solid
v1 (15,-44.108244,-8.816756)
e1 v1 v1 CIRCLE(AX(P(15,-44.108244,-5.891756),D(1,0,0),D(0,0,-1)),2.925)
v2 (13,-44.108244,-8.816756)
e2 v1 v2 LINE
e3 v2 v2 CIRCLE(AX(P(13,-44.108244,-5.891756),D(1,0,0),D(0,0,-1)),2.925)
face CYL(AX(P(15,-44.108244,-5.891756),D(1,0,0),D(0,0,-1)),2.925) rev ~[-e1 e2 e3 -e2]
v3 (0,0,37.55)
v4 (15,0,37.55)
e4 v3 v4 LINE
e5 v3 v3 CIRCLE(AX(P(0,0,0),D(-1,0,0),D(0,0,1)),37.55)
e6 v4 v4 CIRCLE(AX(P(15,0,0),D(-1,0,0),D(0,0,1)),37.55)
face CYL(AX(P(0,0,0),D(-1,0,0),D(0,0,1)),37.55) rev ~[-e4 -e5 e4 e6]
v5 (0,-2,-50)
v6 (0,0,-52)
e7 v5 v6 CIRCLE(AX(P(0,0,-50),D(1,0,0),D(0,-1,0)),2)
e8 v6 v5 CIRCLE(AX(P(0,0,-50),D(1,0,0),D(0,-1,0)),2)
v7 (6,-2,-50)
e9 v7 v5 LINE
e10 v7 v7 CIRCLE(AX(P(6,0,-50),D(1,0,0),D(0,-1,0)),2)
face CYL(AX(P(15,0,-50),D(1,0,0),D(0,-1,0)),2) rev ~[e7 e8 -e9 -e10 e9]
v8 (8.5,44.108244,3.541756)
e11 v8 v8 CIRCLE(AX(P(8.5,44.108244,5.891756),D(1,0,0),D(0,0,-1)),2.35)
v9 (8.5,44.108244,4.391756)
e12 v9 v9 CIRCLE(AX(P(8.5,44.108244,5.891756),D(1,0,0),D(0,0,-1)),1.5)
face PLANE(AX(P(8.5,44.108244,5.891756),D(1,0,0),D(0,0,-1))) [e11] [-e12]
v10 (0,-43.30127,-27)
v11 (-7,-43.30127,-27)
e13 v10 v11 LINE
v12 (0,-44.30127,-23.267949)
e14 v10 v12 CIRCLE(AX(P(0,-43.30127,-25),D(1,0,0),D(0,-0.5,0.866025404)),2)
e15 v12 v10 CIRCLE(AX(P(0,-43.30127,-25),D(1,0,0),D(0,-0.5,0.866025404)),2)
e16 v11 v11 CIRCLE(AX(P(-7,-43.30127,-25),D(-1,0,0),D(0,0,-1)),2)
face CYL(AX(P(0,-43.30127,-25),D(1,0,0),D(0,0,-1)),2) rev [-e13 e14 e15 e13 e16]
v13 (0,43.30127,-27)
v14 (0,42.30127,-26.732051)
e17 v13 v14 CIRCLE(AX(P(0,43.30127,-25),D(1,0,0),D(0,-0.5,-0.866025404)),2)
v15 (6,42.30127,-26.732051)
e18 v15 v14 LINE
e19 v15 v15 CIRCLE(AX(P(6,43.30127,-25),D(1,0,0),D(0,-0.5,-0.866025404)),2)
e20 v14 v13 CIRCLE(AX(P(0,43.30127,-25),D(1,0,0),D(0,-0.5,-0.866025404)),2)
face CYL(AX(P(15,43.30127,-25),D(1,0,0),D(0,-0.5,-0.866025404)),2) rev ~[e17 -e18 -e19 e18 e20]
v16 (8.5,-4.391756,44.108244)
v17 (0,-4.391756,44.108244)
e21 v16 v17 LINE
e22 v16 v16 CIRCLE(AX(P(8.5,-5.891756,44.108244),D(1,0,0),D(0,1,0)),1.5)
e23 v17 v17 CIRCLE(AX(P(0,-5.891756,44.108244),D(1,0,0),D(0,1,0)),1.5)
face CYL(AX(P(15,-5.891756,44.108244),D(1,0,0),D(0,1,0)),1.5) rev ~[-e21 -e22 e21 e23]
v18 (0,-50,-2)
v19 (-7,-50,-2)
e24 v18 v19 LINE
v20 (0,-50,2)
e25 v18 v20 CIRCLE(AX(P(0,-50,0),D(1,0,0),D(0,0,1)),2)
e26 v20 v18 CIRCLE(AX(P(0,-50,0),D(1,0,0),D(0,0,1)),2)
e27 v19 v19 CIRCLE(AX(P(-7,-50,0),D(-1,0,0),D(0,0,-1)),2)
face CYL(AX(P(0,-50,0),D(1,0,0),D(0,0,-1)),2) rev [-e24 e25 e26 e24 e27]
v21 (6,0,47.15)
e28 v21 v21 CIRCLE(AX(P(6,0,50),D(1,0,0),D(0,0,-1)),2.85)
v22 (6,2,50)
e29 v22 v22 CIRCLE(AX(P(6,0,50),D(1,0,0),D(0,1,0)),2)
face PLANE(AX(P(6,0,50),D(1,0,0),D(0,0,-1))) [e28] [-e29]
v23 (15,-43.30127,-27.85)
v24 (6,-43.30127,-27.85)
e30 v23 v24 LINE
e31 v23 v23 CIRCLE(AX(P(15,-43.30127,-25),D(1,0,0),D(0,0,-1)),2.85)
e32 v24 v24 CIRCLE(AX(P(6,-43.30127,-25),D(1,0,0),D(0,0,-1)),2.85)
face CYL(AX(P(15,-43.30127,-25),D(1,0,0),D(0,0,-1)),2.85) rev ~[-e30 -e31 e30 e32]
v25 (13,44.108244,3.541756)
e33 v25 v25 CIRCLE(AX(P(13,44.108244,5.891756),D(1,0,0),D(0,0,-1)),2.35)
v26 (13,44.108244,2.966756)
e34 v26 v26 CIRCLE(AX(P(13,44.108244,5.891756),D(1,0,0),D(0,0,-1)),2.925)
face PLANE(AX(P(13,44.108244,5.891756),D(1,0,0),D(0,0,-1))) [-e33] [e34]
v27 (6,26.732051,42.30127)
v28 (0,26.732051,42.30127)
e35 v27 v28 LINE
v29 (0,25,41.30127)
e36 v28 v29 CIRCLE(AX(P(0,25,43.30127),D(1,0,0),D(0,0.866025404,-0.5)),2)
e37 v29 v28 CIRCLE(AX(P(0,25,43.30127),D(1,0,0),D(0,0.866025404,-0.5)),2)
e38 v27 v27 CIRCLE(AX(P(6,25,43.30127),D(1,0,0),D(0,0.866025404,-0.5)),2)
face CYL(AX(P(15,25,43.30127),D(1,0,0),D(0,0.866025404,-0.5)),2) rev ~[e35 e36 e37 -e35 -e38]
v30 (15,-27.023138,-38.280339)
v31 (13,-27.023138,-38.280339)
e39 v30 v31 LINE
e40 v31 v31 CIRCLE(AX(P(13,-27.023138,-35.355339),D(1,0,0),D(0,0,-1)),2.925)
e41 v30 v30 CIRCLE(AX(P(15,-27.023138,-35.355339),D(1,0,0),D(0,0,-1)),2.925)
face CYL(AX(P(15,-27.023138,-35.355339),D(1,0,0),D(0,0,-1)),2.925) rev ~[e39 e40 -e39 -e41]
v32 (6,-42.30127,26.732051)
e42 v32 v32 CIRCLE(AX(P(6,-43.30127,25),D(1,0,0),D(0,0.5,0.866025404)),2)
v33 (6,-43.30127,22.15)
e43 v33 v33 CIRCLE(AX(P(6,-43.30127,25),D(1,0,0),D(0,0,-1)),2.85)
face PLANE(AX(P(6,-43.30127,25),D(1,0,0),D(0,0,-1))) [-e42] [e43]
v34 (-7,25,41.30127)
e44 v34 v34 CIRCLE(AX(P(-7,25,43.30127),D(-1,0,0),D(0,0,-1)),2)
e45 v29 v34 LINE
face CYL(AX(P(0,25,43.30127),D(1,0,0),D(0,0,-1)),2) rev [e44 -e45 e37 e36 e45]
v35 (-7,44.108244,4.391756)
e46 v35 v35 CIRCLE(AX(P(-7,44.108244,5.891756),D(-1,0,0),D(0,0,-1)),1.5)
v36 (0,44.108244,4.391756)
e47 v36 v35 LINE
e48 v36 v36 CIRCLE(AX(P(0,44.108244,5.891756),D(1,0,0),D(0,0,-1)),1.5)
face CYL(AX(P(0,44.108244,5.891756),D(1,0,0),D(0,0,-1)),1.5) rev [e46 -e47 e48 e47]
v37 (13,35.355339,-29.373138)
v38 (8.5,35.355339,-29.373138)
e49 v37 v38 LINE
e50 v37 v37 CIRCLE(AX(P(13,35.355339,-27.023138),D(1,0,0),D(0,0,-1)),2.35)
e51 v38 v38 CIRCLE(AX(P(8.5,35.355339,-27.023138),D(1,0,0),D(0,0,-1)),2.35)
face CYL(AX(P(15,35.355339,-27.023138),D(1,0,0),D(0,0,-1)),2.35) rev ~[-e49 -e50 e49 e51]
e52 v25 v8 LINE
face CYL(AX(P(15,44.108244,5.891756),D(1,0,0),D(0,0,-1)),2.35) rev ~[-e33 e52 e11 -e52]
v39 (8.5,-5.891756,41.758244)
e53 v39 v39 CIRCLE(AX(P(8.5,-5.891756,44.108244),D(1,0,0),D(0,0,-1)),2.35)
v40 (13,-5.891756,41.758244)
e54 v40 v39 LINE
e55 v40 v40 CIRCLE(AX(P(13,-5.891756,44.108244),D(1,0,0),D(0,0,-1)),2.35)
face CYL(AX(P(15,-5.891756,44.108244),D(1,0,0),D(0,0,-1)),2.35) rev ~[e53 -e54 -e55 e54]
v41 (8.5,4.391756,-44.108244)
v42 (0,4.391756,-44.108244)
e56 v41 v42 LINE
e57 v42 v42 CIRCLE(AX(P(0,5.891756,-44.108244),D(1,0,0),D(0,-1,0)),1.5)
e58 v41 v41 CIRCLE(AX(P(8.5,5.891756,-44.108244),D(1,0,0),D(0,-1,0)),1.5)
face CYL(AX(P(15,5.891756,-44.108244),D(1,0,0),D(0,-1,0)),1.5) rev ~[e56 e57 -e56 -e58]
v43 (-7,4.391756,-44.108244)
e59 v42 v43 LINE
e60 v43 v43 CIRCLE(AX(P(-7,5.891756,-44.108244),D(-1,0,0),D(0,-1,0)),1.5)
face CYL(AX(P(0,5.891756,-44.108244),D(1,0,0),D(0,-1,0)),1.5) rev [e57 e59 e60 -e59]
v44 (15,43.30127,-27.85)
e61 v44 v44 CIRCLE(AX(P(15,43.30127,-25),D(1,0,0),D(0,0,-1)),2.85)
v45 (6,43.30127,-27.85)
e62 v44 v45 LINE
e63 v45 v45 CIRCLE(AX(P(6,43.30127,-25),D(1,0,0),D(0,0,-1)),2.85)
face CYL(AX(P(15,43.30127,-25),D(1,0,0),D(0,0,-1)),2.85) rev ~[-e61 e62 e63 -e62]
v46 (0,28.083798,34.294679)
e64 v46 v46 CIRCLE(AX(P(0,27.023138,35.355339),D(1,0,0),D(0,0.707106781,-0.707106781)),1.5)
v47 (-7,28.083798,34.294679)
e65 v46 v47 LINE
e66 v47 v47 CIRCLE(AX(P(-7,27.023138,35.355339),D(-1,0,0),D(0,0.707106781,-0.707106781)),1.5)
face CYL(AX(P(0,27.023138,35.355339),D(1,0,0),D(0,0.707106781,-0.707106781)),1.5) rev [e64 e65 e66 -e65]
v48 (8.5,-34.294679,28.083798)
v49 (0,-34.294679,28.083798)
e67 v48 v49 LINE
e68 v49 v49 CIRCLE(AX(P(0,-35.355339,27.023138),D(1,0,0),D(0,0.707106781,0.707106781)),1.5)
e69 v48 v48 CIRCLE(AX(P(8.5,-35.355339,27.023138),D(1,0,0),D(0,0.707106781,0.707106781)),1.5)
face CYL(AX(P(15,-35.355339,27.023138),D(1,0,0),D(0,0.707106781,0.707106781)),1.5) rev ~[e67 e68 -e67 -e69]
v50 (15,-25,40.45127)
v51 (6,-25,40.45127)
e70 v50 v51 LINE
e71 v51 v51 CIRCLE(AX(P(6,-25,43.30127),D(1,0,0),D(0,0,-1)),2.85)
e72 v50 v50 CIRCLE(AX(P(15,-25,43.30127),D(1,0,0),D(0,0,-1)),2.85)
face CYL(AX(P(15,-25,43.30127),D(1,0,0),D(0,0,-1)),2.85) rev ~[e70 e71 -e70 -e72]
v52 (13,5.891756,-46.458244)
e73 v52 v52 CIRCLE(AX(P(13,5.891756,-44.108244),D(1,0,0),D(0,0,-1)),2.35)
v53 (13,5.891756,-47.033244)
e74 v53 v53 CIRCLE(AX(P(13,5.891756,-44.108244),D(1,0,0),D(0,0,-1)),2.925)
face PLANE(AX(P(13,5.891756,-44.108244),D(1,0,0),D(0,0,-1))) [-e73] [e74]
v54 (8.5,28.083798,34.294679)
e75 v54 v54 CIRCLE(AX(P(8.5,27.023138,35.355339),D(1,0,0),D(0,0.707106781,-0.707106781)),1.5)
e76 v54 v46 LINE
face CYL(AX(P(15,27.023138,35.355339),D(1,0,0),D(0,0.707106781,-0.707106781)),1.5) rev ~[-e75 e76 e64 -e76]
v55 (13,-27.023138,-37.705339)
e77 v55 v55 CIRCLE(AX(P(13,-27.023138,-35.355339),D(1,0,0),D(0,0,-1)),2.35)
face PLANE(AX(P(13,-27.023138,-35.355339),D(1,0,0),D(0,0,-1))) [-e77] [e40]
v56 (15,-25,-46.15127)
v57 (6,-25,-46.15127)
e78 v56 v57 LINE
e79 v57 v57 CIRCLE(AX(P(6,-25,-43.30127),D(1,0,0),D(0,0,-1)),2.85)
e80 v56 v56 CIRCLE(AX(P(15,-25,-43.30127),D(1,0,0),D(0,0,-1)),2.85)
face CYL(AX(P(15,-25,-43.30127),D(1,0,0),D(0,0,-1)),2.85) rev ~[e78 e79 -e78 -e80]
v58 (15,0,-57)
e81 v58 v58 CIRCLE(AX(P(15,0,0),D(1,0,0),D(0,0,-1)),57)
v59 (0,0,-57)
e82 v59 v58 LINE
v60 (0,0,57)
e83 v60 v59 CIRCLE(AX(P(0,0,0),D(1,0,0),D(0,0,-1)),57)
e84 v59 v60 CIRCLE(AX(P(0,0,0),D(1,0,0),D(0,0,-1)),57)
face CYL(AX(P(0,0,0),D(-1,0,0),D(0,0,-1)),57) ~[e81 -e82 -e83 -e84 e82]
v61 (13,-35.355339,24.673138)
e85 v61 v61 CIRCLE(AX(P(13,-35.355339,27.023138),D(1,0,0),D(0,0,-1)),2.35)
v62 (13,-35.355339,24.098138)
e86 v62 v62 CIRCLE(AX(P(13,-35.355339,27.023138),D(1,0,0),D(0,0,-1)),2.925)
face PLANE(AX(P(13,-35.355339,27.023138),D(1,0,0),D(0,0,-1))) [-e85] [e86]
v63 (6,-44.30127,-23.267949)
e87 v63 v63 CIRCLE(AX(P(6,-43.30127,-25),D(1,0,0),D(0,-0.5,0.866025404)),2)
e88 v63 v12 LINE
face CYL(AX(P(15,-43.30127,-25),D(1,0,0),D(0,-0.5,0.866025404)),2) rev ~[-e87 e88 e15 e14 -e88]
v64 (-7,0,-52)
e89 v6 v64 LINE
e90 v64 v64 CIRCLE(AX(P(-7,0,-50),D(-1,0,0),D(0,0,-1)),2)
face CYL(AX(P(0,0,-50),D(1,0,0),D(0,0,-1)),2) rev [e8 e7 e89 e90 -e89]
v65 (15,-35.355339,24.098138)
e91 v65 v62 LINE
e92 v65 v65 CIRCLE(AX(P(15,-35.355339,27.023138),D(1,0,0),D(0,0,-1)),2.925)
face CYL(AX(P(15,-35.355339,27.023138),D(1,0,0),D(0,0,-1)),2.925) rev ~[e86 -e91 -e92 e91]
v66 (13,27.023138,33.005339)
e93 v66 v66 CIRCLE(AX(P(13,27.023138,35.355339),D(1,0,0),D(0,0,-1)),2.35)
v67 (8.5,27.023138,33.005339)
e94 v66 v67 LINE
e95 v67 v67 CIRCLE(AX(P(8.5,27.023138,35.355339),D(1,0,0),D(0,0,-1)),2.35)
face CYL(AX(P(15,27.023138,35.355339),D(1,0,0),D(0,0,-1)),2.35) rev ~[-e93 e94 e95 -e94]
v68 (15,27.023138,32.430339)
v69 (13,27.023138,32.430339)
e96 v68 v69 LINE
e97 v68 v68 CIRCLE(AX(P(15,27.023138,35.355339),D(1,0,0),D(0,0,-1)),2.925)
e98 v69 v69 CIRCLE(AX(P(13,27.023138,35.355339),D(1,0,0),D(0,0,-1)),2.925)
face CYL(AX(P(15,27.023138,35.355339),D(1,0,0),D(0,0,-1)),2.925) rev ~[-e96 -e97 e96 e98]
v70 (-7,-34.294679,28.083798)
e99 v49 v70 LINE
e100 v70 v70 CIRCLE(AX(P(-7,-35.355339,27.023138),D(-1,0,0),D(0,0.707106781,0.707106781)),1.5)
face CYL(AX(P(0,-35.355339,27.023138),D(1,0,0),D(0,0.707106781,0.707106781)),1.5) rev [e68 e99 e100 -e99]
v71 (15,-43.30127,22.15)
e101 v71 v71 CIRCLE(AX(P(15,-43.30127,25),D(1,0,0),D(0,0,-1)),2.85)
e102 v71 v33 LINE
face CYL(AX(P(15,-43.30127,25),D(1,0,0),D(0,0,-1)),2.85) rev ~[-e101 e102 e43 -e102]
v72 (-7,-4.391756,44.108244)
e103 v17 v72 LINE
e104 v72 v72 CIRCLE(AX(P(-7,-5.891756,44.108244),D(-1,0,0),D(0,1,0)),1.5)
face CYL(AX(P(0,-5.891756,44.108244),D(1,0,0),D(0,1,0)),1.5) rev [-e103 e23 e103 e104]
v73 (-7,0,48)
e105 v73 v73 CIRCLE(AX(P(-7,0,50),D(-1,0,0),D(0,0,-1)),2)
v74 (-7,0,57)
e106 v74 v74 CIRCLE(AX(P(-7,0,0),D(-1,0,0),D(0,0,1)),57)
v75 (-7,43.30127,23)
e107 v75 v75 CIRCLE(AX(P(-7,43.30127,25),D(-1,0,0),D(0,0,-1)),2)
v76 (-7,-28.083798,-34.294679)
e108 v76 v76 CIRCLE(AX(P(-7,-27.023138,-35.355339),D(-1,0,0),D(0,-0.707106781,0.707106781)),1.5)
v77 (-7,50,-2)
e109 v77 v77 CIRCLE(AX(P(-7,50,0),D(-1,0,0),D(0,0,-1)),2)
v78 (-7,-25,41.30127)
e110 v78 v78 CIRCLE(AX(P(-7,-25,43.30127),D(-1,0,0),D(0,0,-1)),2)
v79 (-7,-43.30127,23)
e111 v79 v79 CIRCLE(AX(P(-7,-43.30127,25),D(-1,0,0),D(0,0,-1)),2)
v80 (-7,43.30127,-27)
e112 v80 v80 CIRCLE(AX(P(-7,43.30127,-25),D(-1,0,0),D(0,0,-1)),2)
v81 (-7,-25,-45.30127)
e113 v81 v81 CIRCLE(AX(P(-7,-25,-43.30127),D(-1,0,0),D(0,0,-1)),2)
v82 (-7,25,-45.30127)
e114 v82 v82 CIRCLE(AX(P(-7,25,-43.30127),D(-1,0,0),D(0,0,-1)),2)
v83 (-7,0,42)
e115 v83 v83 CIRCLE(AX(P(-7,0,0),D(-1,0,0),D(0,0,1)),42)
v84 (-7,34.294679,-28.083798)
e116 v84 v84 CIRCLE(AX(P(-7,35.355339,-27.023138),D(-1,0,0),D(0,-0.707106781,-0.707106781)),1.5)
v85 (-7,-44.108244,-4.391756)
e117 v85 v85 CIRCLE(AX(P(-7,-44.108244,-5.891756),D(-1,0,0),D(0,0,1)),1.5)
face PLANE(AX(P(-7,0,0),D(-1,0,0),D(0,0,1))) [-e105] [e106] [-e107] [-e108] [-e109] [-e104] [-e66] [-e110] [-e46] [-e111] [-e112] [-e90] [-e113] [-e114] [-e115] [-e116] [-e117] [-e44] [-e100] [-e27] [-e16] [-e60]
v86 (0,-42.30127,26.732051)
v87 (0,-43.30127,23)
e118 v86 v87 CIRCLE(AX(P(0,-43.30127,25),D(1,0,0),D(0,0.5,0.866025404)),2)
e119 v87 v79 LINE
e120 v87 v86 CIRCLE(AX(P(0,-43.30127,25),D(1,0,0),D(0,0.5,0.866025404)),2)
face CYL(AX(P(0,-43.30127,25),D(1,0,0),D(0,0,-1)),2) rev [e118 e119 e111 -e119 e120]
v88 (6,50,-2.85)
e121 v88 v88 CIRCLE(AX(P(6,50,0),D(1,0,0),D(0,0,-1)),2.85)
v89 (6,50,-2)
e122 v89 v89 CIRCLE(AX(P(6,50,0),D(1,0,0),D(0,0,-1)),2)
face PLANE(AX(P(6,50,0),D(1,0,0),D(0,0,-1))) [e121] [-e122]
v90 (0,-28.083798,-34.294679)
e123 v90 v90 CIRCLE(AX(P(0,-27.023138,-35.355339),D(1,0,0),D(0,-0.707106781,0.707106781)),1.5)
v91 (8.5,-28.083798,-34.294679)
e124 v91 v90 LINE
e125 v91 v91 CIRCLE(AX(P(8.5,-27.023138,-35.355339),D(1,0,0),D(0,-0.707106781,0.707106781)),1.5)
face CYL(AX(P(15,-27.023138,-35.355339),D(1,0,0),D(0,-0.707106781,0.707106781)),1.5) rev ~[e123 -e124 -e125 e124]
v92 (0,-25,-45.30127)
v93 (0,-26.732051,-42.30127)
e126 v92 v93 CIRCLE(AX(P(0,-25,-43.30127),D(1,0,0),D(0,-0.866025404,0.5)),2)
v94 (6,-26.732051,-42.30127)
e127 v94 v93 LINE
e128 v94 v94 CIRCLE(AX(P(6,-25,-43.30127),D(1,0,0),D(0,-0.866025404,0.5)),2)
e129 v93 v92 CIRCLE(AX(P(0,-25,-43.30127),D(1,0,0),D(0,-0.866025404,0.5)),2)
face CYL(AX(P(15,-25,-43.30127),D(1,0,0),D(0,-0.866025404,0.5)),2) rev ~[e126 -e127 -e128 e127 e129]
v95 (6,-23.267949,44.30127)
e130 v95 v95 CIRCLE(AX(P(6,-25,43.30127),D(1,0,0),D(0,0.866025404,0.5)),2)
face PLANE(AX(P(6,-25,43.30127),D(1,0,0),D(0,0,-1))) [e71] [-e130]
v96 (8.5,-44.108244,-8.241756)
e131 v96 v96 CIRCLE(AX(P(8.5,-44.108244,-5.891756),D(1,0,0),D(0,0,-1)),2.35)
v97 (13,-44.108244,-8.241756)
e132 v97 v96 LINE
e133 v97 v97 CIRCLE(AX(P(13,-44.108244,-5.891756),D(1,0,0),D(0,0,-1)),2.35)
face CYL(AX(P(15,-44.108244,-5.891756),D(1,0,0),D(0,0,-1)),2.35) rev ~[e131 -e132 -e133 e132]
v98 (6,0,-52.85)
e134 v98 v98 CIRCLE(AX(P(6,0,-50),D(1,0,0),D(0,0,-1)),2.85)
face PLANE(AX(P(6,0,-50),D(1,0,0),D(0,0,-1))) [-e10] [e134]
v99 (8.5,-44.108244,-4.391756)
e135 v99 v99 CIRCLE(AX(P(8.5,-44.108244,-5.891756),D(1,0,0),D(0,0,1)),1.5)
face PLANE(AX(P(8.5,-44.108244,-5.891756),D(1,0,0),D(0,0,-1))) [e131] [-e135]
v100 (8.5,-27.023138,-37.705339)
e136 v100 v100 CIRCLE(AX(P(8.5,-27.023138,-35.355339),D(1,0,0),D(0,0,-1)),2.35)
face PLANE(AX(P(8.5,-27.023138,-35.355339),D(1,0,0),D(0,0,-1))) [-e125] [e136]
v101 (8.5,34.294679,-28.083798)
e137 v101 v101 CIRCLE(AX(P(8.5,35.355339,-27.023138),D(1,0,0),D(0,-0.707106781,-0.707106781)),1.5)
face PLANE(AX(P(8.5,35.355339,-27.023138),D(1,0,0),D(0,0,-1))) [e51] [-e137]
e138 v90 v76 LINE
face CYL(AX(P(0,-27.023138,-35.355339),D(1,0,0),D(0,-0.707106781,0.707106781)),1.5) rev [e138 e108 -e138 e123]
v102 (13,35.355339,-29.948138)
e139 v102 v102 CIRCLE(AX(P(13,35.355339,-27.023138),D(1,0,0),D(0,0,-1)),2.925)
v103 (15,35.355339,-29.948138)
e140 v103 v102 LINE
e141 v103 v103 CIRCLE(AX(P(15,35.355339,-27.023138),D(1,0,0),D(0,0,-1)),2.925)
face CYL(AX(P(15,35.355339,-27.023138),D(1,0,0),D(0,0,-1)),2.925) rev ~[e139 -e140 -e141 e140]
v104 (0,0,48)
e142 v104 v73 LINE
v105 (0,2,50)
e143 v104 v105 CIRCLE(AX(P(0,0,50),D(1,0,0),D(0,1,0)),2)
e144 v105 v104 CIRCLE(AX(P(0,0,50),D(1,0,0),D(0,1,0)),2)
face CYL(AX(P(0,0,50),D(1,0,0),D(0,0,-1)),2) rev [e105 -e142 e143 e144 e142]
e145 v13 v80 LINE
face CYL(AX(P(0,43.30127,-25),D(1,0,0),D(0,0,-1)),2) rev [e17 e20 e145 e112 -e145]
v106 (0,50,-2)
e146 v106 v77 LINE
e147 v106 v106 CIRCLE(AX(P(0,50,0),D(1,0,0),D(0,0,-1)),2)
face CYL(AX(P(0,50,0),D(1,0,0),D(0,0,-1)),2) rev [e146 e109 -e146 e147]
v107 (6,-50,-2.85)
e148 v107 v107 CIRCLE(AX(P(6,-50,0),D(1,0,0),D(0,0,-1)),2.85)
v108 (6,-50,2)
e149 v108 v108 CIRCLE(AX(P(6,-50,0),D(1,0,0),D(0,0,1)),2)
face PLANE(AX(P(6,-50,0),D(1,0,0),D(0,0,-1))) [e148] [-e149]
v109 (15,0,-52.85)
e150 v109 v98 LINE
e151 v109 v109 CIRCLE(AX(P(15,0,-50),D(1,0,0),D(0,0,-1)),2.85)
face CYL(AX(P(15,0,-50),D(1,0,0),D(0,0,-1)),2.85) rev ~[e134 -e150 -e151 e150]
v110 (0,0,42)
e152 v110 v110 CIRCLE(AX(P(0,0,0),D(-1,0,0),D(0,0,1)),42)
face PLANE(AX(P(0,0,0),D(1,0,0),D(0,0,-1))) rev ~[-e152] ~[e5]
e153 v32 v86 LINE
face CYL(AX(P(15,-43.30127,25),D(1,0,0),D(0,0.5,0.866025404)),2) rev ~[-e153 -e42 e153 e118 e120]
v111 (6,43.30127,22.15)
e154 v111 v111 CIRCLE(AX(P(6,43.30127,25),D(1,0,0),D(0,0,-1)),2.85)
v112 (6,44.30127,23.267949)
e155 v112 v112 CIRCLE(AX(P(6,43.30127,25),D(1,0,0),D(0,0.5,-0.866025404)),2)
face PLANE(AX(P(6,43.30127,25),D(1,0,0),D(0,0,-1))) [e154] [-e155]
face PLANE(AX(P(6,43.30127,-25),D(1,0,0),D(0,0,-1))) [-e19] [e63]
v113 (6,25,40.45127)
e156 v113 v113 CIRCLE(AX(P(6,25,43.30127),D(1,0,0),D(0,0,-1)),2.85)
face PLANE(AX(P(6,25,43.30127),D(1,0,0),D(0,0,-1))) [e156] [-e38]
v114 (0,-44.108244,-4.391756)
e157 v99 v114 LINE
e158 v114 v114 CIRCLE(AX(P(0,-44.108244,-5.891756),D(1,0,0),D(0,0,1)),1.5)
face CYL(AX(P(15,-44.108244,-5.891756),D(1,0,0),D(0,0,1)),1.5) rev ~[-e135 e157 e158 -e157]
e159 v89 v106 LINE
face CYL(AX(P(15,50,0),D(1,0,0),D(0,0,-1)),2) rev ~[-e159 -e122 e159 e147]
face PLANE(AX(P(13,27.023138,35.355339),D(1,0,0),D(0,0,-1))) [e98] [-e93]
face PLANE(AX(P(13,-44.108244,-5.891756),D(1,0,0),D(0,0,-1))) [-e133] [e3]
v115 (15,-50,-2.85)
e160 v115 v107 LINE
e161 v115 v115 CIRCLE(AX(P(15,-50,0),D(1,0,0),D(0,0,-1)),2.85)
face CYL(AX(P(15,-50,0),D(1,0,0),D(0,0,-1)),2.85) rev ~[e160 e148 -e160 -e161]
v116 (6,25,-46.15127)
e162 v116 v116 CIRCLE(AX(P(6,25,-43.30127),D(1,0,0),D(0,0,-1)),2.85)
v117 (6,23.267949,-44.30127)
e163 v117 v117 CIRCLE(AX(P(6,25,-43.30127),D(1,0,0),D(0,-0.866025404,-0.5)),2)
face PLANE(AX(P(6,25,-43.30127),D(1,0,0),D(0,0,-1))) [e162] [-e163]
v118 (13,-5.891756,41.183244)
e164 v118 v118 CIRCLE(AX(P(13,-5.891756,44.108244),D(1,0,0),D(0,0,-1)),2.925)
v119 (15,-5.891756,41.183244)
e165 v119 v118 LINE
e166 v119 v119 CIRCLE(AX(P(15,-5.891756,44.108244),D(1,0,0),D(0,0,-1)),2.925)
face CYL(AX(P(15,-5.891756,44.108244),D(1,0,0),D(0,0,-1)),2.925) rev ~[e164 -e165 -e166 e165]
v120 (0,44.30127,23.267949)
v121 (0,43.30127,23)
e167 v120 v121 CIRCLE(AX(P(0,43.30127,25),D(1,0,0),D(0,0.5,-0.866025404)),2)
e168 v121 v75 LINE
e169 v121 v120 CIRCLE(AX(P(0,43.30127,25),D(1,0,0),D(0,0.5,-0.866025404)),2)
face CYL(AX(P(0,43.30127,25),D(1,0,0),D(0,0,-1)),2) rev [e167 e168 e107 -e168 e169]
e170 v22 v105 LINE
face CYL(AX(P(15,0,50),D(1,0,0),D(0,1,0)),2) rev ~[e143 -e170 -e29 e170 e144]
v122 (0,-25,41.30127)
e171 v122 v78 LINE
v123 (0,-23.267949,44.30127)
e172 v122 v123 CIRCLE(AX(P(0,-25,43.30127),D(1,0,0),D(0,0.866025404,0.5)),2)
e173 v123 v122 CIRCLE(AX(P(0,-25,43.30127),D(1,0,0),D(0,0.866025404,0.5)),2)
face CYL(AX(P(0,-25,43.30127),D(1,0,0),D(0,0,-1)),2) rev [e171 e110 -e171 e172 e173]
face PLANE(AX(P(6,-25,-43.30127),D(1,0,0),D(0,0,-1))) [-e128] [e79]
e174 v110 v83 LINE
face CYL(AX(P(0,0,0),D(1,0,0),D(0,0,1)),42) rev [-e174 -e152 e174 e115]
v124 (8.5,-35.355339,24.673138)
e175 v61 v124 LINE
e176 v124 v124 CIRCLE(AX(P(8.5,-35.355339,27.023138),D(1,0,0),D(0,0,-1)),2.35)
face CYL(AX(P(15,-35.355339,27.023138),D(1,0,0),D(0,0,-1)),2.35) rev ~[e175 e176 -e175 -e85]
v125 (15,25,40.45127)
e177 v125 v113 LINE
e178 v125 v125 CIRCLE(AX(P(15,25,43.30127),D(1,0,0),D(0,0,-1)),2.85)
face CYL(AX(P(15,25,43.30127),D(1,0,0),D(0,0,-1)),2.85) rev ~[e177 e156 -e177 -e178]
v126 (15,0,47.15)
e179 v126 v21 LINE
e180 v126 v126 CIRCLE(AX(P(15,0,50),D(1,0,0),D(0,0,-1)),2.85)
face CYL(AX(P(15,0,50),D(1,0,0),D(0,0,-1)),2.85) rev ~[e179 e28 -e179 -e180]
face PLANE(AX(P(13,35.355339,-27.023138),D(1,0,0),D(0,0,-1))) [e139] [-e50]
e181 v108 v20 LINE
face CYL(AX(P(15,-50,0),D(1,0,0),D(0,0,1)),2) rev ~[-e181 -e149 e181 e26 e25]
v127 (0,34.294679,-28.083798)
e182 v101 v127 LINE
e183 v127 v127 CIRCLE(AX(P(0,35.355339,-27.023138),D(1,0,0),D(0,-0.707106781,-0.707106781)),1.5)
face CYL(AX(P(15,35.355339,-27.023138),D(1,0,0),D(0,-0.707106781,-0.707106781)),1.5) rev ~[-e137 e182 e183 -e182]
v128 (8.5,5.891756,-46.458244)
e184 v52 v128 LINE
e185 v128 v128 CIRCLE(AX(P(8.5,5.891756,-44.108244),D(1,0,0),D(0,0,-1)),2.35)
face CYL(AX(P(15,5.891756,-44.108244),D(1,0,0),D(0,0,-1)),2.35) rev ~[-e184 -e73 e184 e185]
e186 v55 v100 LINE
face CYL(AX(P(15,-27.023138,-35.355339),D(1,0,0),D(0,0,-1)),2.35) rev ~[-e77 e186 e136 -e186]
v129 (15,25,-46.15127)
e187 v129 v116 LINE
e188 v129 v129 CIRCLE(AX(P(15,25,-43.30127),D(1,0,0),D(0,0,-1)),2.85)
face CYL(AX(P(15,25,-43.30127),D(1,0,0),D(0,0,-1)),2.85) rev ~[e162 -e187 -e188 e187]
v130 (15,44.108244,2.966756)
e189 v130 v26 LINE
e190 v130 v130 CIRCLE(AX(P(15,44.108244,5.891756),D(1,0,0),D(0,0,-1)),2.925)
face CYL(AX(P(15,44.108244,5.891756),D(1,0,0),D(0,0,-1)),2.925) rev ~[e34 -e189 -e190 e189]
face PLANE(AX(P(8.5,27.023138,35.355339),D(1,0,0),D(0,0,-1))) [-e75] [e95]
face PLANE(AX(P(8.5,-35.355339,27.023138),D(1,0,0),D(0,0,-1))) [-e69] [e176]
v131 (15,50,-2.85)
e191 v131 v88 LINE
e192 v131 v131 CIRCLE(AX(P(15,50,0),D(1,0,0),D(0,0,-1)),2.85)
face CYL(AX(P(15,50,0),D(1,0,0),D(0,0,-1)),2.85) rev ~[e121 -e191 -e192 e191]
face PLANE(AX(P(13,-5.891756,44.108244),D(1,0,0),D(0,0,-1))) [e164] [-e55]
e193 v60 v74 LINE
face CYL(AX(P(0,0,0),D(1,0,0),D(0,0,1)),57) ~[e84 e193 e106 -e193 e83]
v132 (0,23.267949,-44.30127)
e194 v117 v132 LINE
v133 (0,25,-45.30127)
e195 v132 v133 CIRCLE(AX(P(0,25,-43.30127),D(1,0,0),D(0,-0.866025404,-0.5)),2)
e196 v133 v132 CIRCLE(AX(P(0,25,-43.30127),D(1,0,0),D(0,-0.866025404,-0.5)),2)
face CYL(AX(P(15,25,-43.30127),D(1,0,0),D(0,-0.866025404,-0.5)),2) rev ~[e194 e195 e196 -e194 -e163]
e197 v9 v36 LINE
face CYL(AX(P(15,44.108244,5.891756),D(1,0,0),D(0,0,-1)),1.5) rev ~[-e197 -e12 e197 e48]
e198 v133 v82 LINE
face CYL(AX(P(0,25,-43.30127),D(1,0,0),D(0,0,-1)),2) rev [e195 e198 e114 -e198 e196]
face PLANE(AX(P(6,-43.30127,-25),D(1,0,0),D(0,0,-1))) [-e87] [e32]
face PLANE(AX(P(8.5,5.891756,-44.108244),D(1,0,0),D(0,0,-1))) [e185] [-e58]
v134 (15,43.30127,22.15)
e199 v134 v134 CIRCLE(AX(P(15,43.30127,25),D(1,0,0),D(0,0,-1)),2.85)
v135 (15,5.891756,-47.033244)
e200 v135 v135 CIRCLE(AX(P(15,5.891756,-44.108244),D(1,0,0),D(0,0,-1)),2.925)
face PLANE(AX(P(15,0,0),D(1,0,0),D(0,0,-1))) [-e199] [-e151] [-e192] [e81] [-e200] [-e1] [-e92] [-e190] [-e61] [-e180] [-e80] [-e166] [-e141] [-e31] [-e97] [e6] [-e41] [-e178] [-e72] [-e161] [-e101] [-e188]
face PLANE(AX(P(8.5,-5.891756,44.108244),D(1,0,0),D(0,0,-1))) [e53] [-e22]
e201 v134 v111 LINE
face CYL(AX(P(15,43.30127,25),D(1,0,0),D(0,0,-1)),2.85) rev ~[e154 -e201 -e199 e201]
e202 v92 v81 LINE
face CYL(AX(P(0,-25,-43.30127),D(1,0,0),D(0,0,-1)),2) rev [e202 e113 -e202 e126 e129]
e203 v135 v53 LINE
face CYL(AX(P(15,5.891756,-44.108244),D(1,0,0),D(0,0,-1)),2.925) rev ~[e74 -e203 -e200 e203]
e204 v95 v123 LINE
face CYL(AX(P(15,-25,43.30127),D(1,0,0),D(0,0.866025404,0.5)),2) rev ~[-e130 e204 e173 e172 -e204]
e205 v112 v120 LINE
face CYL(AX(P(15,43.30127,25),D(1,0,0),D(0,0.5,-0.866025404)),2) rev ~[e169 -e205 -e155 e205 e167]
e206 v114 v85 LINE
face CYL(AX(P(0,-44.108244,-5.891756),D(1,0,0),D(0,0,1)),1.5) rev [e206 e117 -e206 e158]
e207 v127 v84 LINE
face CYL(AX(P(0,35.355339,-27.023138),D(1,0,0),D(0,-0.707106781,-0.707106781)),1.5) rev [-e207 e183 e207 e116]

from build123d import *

# Parameters (mm, degrees)
SKETCH1_R           = 57.000000046
SKETCH1_R_2         = 45.72
BOSS_EXTRUDE1_DEPTH = 15
SKETCH3_R           = 49.001810824
SKETCH3_R_2         = 37.55
BOSS_EXTRUDE3_DEPTH = 15
CUT_EXTRUDE1_REACH  = 83.994
SKETCH4_R           = 2
SKETCH6_R           = 1.5
CUT_EXTRUDE2_DEPTH  = 82.993902276
CIRPATTERN2_COUNT   = 8
CIRPATTERN1_COUNT   = 12
SKETCH10_R          = 57.000000046
SKETCH10_R_2        = 42.000000046
SKETCH10_R_3        = 1.5
SKETCH10_R_4        = 2
BOSS_EXTRUDE4_DEPTH = 7
SKETCH12_R          = 2.35
CUT_EXTRUDE3_DEPTH  = 6.5
SKETCH13_R          = 2.925
CUT_EXTRUDE4_DEPTH  = 2
SKETCH14_R          = 2.85
CUT_EXTRUDE5_DEPTH  = 9


with BuildPart() as part:
    # Sketch1 → Boss-Extrude1 (new body)
    with BuildSketch(Plane(origin=(0, 0, 0), x_dir=(0, 0, -1), z_dir=(1, 0, 0))):
        Circle(SKETCH1_R)
        Circle(SKETCH1_R_2, mode=Mode.SUBTRACT)
    extrude(amount=BOSS_EXTRUDE1_DEPTH)

    # Sketch3 → Boss-Extrude3 (add)
    with BuildSketch(Plane.ZY):
        Circle(SKETCH3_R)
        Circle(SKETCH3_R_2, mode=Mode.SUBTRACT)
    extrude(amount=-BOSS_EXTRUDE3_DEPTH)

    # Sketch4 → Cut-Extrude1 (cut, up to next)
    with BuildSketch(Plane(origin=(15, 0, 0), x_dir=(0, 0, -1), z_dir=(1, 0, 0)), mode=Mode.PRIVATE) as cut_extrude1_sk1:
        with Locations((0, 50)):
            Circle(SKETCH4_R)
    cut_extrude1_tool1 = extrude(cut_extrude1_sk1.sketch, amount=-CUT_EXTRUDE1_REACH, mode=Mode.PRIVATE) & part.part
    cut_extrude1 = cut_extrude1_tool1.solids().sort_by_distance((15, 50, 0))[0]
    add(cut_extrude1, mode=Mode.SUBTRACT)

    # Sketch6 → Cut-Extrude2 (cut, through all)
    with BuildSketch(Plane(origin=(15, 0, 0), x_dir=(0, 0, -1), z_dir=(1, 0, 0))):
        with Locations((-5.891755706, 44.108244294)):
            Circle(SKETCH6_R)
    cut_extrude2 = extrude(amount=-CUT_EXTRUDE2_DEPTH, mode=Mode.SUBTRACT)

    # CirPattern2: Cut-Extrude2 ×8 about axis
    cirpattern2_axis = Axis((0, 0, 0), (1, 0, 0))
    for i in range(1, CIRPATTERN2_COUNT):
        add(cut_extrude2.rotate(cirpattern2_axis, i * 360 / CIRPATTERN2_COUNT), mode=Mode.SUBTRACT)

    # CirPattern1: Cut-Extrude1 ×12 about axis
    cirpattern1_axis = Axis((0, 0, 0), (1, 0, 0))
    for i in range(1, CIRPATTERN1_COUNT):
        add(cut_extrude1.rotate(cirpattern1_axis, i * 360 / CIRPATTERN1_COUNT), mode=Mode.SUBTRACT)

    # Sketch10 → Boss-Extrude4 (add)
    with BuildSketch(Plane.ZY):
        Circle(SKETCH10_R)
        Circle(SKETCH10_R_2, mode=Mode.SUBTRACT)
        with Locations(Location((-27.023138234, 35.355339059, 0), (0, 0, 225))):
            Circle(SKETCH10_R_3, mode=Mode.SUBTRACT)
        with Locations(Location((5.891755706, 44.108244294, 0), (0, 0, 180))):
            Circle(SKETCH10_R_3, mode=Mode.SUBTRACT)
        with Locations(Location((35.355339059, 27.023138234, 0), (0, 0, 135))):
            Circle(SKETCH10_R_3, mode=Mode.SUBTRACT)
        with Locations(Location((44.108244294, -5.891755706, 0), (0, 0, 90))):
            Circle(SKETCH10_R_3, mode=Mode.SUBTRACT)
        with Locations(Location((27.023138234, -35.355339059, 0), (0, 0, 45))):
            Circle(SKETCH10_R_3, mode=Mode.SUBTRACT)
        with Locations(Location((-44.108244294, 5.891755706, 0), (0, 0, 270))):
            Circle(SKETCH10_R_3, mode=Mode.SUBTRACT)
        with Locations(Location((-35.355339059, -27.023138234, 0), (0, 0, 315))):
            Circle(SKETCH10_R_3, mode=Mode.SUBTRACT)
        with Locations((-5.891755706, -44.108244294)):
            Circle(SKETCH10_R_3, mode=Mode.SUBTRACT)
        with Locations(Location((-25, 43.301270189, 0), (0, 0, 180))):
            Circle(SKETCH10_R_4, mode=Mode.SUBTRACT)
        with Locations(Location((0, 50, 0), (0, 0, 180))):
            Circle(SKETCH10_R_4, mode=Mode.SUBTRACT)
        with Locations(Location((25, 43.301270189, 0), (0, 0, 180))):
            Circle(SKETCH10_R_4, mode=Mode.SUBTRACT)
        with Locations(Location((43.301270189, 25, 0), (0, 0, 180))):
            Circle(SKETCH10_R_4, mode=Mode.SUBTRACT)
        with Locations(Location((50, 0, 0), (0, 0, 180))):
            Circle(SKETCH10_R_4, mode=Mode.SUBTRACT)
        with Locations(Location((43.301270189, -25, 0), (0, 0, 180))):
            Circle(SKETCH10_R_4, mode=Mode.SUBTRACT)
        with Locations(Location((25, -43.301270189, 0), (0, 0, 180))):
            Circle(SKETCH10_R_4, mode=Mode.SUBTRACT)
        with Locations(Location((0, -50, 0), (0, 0, 180))):
            Circle(SKETCH10_R_4, mode=Mode.SUBTRACT)
        with Locations(Location((-25, -43.301270189, 0), (0, 0, 180))):
            Circle(SKETCH10_R_4, mode=Mode.SUBTRACT)
        with Locations(Location((-43.301270189, -25, 0), (0, 0, 180))):
            Circle(SKETCH10_R_4, mode=Mode.SUBTRACT)
        with Locations(Location((-50, 0, 0), (0, 0, 180))):
            Circle(SKETCH10_R_4, mode=Mode.SUBTRACT)
        with Locations(Location((-43.301270189, 25, 0), (0, 0, 180))):
            Circle(SKETCH10_R_4, mode=Mode.SUBTRACT)
    extrude(amount=BOSS_EXTRUDE4_DEPTH)

    # Sketch12 → Cut-Extrude3 (cut)
    with BuildSketch(Plane(origin=(15, 0, 0), x_dir=(0, 0, -1), z_dir=(1, 0, 0))):
        with Locations((-35.355339059, 27.023138234)):
            Circle(SKETCH12_R)
        with Locations((-5.891755706, 44.108244294)):
            Circle(SKETCH12_R)
        with Locations((27.023138234, 35.355339059)):
            Circle(SKETCH12_R)
        with Locations((44.108244294, 5.891755706)):
            Circle(SKETCH12_R)
        with Locations((35.355339059, -27.023138234)):
            Circle(SKETCH12_R)
        with Locations((5.891755706, -44.108244294)):
            Circle(SKETCH12_R)
        with Locations((-27.023138234, -35.355339059)):
            Circle(SKETCH12_R)
        with Locations((-44.108244294, -5.891755706)):
            Circle(SKETCH12_R)
    extrude(amount=-CUT_EXTRUDE3_DEPTH, mode=Mode.SUBTRACT)

    # Sketch13 → Cut-Extrude4 (cut)
    with BuildSketch(Plane(origin=(15, 0, 0), x_dir=(0, 0, -1), z_dir=(1, 0, 0))):
        with Locations((-35.355339059, 27.023138234)):
            Circle(SKETCH13_R)
        with Locations((-5.891755706, 44.108244294)):
            Circle(SKETCH13_R)
        with Locations((27.023138234, 35.355339059)):
            Circle(SKETCH13_R)
        with Locations((44.108244294, 5.891755706)):
            Circle(SKETCH13_R)
        with Locations((35.355339059, -27.023138234)):
            Circle(SKETCH13_R)
        with Locations((5.891755706, -44.108244294)):
            Circle(SKETCH13_R)
        with Locations((-27.023138234, -35.355339059)):
            Circle(SKETCH13_R)
        with Locations((-44.108244294, -5.891755706)):
            Circle(SKETCH13_R)
    extrude(amount=-CUT_EXTRUDE4_DEPTH, mode=Mode.SUBTRACT)

    # Sketch14 → Cut-Extrude5 (cut)
    with BuildSketch(Plane(origin=(15, 0, 0), x_dir=(0, 0, -1), z_dir=(1, 0, 0))):
        with Locations((-43.301270189, 25)):
            Circle(SKETCH14_R)
        with Locations((-25, 43.301270189)):
            Circle(SKETCH14_R)
        with Locations((0, 50)):
            Circle(SKETCH14_R)
        with Locations((25, 43.301270189)):
            Circle(SKETCH14_R)
        with Locations((43.301270189, 25)):
            Circle(SKETCH14_R)
        with Locations((50, 0)):
            Circle(SKETCH14_R)
        with Locations((43.301270189, -25)):
            Circle(SKETCH14_R)
        with Locations((25, -43.301270189)):
            Circle(SKETCH14_R)
        with Locations((0, -50)):
            Circle(SKETCH14_R)
        with Locations((-25, -43.301270189)):
            Circle(SKETCH14_R)
        with Locations((-43.301270189, -25)):
            Circle(SKETCH14_R)
        with Locations((-50, 0)):
            Circle(SKETCH14_R)
    extrude(amount=-CUT_EXTRUDE5_DEPTH, mode=Mode.SUBTRACT)


solid = part.part
